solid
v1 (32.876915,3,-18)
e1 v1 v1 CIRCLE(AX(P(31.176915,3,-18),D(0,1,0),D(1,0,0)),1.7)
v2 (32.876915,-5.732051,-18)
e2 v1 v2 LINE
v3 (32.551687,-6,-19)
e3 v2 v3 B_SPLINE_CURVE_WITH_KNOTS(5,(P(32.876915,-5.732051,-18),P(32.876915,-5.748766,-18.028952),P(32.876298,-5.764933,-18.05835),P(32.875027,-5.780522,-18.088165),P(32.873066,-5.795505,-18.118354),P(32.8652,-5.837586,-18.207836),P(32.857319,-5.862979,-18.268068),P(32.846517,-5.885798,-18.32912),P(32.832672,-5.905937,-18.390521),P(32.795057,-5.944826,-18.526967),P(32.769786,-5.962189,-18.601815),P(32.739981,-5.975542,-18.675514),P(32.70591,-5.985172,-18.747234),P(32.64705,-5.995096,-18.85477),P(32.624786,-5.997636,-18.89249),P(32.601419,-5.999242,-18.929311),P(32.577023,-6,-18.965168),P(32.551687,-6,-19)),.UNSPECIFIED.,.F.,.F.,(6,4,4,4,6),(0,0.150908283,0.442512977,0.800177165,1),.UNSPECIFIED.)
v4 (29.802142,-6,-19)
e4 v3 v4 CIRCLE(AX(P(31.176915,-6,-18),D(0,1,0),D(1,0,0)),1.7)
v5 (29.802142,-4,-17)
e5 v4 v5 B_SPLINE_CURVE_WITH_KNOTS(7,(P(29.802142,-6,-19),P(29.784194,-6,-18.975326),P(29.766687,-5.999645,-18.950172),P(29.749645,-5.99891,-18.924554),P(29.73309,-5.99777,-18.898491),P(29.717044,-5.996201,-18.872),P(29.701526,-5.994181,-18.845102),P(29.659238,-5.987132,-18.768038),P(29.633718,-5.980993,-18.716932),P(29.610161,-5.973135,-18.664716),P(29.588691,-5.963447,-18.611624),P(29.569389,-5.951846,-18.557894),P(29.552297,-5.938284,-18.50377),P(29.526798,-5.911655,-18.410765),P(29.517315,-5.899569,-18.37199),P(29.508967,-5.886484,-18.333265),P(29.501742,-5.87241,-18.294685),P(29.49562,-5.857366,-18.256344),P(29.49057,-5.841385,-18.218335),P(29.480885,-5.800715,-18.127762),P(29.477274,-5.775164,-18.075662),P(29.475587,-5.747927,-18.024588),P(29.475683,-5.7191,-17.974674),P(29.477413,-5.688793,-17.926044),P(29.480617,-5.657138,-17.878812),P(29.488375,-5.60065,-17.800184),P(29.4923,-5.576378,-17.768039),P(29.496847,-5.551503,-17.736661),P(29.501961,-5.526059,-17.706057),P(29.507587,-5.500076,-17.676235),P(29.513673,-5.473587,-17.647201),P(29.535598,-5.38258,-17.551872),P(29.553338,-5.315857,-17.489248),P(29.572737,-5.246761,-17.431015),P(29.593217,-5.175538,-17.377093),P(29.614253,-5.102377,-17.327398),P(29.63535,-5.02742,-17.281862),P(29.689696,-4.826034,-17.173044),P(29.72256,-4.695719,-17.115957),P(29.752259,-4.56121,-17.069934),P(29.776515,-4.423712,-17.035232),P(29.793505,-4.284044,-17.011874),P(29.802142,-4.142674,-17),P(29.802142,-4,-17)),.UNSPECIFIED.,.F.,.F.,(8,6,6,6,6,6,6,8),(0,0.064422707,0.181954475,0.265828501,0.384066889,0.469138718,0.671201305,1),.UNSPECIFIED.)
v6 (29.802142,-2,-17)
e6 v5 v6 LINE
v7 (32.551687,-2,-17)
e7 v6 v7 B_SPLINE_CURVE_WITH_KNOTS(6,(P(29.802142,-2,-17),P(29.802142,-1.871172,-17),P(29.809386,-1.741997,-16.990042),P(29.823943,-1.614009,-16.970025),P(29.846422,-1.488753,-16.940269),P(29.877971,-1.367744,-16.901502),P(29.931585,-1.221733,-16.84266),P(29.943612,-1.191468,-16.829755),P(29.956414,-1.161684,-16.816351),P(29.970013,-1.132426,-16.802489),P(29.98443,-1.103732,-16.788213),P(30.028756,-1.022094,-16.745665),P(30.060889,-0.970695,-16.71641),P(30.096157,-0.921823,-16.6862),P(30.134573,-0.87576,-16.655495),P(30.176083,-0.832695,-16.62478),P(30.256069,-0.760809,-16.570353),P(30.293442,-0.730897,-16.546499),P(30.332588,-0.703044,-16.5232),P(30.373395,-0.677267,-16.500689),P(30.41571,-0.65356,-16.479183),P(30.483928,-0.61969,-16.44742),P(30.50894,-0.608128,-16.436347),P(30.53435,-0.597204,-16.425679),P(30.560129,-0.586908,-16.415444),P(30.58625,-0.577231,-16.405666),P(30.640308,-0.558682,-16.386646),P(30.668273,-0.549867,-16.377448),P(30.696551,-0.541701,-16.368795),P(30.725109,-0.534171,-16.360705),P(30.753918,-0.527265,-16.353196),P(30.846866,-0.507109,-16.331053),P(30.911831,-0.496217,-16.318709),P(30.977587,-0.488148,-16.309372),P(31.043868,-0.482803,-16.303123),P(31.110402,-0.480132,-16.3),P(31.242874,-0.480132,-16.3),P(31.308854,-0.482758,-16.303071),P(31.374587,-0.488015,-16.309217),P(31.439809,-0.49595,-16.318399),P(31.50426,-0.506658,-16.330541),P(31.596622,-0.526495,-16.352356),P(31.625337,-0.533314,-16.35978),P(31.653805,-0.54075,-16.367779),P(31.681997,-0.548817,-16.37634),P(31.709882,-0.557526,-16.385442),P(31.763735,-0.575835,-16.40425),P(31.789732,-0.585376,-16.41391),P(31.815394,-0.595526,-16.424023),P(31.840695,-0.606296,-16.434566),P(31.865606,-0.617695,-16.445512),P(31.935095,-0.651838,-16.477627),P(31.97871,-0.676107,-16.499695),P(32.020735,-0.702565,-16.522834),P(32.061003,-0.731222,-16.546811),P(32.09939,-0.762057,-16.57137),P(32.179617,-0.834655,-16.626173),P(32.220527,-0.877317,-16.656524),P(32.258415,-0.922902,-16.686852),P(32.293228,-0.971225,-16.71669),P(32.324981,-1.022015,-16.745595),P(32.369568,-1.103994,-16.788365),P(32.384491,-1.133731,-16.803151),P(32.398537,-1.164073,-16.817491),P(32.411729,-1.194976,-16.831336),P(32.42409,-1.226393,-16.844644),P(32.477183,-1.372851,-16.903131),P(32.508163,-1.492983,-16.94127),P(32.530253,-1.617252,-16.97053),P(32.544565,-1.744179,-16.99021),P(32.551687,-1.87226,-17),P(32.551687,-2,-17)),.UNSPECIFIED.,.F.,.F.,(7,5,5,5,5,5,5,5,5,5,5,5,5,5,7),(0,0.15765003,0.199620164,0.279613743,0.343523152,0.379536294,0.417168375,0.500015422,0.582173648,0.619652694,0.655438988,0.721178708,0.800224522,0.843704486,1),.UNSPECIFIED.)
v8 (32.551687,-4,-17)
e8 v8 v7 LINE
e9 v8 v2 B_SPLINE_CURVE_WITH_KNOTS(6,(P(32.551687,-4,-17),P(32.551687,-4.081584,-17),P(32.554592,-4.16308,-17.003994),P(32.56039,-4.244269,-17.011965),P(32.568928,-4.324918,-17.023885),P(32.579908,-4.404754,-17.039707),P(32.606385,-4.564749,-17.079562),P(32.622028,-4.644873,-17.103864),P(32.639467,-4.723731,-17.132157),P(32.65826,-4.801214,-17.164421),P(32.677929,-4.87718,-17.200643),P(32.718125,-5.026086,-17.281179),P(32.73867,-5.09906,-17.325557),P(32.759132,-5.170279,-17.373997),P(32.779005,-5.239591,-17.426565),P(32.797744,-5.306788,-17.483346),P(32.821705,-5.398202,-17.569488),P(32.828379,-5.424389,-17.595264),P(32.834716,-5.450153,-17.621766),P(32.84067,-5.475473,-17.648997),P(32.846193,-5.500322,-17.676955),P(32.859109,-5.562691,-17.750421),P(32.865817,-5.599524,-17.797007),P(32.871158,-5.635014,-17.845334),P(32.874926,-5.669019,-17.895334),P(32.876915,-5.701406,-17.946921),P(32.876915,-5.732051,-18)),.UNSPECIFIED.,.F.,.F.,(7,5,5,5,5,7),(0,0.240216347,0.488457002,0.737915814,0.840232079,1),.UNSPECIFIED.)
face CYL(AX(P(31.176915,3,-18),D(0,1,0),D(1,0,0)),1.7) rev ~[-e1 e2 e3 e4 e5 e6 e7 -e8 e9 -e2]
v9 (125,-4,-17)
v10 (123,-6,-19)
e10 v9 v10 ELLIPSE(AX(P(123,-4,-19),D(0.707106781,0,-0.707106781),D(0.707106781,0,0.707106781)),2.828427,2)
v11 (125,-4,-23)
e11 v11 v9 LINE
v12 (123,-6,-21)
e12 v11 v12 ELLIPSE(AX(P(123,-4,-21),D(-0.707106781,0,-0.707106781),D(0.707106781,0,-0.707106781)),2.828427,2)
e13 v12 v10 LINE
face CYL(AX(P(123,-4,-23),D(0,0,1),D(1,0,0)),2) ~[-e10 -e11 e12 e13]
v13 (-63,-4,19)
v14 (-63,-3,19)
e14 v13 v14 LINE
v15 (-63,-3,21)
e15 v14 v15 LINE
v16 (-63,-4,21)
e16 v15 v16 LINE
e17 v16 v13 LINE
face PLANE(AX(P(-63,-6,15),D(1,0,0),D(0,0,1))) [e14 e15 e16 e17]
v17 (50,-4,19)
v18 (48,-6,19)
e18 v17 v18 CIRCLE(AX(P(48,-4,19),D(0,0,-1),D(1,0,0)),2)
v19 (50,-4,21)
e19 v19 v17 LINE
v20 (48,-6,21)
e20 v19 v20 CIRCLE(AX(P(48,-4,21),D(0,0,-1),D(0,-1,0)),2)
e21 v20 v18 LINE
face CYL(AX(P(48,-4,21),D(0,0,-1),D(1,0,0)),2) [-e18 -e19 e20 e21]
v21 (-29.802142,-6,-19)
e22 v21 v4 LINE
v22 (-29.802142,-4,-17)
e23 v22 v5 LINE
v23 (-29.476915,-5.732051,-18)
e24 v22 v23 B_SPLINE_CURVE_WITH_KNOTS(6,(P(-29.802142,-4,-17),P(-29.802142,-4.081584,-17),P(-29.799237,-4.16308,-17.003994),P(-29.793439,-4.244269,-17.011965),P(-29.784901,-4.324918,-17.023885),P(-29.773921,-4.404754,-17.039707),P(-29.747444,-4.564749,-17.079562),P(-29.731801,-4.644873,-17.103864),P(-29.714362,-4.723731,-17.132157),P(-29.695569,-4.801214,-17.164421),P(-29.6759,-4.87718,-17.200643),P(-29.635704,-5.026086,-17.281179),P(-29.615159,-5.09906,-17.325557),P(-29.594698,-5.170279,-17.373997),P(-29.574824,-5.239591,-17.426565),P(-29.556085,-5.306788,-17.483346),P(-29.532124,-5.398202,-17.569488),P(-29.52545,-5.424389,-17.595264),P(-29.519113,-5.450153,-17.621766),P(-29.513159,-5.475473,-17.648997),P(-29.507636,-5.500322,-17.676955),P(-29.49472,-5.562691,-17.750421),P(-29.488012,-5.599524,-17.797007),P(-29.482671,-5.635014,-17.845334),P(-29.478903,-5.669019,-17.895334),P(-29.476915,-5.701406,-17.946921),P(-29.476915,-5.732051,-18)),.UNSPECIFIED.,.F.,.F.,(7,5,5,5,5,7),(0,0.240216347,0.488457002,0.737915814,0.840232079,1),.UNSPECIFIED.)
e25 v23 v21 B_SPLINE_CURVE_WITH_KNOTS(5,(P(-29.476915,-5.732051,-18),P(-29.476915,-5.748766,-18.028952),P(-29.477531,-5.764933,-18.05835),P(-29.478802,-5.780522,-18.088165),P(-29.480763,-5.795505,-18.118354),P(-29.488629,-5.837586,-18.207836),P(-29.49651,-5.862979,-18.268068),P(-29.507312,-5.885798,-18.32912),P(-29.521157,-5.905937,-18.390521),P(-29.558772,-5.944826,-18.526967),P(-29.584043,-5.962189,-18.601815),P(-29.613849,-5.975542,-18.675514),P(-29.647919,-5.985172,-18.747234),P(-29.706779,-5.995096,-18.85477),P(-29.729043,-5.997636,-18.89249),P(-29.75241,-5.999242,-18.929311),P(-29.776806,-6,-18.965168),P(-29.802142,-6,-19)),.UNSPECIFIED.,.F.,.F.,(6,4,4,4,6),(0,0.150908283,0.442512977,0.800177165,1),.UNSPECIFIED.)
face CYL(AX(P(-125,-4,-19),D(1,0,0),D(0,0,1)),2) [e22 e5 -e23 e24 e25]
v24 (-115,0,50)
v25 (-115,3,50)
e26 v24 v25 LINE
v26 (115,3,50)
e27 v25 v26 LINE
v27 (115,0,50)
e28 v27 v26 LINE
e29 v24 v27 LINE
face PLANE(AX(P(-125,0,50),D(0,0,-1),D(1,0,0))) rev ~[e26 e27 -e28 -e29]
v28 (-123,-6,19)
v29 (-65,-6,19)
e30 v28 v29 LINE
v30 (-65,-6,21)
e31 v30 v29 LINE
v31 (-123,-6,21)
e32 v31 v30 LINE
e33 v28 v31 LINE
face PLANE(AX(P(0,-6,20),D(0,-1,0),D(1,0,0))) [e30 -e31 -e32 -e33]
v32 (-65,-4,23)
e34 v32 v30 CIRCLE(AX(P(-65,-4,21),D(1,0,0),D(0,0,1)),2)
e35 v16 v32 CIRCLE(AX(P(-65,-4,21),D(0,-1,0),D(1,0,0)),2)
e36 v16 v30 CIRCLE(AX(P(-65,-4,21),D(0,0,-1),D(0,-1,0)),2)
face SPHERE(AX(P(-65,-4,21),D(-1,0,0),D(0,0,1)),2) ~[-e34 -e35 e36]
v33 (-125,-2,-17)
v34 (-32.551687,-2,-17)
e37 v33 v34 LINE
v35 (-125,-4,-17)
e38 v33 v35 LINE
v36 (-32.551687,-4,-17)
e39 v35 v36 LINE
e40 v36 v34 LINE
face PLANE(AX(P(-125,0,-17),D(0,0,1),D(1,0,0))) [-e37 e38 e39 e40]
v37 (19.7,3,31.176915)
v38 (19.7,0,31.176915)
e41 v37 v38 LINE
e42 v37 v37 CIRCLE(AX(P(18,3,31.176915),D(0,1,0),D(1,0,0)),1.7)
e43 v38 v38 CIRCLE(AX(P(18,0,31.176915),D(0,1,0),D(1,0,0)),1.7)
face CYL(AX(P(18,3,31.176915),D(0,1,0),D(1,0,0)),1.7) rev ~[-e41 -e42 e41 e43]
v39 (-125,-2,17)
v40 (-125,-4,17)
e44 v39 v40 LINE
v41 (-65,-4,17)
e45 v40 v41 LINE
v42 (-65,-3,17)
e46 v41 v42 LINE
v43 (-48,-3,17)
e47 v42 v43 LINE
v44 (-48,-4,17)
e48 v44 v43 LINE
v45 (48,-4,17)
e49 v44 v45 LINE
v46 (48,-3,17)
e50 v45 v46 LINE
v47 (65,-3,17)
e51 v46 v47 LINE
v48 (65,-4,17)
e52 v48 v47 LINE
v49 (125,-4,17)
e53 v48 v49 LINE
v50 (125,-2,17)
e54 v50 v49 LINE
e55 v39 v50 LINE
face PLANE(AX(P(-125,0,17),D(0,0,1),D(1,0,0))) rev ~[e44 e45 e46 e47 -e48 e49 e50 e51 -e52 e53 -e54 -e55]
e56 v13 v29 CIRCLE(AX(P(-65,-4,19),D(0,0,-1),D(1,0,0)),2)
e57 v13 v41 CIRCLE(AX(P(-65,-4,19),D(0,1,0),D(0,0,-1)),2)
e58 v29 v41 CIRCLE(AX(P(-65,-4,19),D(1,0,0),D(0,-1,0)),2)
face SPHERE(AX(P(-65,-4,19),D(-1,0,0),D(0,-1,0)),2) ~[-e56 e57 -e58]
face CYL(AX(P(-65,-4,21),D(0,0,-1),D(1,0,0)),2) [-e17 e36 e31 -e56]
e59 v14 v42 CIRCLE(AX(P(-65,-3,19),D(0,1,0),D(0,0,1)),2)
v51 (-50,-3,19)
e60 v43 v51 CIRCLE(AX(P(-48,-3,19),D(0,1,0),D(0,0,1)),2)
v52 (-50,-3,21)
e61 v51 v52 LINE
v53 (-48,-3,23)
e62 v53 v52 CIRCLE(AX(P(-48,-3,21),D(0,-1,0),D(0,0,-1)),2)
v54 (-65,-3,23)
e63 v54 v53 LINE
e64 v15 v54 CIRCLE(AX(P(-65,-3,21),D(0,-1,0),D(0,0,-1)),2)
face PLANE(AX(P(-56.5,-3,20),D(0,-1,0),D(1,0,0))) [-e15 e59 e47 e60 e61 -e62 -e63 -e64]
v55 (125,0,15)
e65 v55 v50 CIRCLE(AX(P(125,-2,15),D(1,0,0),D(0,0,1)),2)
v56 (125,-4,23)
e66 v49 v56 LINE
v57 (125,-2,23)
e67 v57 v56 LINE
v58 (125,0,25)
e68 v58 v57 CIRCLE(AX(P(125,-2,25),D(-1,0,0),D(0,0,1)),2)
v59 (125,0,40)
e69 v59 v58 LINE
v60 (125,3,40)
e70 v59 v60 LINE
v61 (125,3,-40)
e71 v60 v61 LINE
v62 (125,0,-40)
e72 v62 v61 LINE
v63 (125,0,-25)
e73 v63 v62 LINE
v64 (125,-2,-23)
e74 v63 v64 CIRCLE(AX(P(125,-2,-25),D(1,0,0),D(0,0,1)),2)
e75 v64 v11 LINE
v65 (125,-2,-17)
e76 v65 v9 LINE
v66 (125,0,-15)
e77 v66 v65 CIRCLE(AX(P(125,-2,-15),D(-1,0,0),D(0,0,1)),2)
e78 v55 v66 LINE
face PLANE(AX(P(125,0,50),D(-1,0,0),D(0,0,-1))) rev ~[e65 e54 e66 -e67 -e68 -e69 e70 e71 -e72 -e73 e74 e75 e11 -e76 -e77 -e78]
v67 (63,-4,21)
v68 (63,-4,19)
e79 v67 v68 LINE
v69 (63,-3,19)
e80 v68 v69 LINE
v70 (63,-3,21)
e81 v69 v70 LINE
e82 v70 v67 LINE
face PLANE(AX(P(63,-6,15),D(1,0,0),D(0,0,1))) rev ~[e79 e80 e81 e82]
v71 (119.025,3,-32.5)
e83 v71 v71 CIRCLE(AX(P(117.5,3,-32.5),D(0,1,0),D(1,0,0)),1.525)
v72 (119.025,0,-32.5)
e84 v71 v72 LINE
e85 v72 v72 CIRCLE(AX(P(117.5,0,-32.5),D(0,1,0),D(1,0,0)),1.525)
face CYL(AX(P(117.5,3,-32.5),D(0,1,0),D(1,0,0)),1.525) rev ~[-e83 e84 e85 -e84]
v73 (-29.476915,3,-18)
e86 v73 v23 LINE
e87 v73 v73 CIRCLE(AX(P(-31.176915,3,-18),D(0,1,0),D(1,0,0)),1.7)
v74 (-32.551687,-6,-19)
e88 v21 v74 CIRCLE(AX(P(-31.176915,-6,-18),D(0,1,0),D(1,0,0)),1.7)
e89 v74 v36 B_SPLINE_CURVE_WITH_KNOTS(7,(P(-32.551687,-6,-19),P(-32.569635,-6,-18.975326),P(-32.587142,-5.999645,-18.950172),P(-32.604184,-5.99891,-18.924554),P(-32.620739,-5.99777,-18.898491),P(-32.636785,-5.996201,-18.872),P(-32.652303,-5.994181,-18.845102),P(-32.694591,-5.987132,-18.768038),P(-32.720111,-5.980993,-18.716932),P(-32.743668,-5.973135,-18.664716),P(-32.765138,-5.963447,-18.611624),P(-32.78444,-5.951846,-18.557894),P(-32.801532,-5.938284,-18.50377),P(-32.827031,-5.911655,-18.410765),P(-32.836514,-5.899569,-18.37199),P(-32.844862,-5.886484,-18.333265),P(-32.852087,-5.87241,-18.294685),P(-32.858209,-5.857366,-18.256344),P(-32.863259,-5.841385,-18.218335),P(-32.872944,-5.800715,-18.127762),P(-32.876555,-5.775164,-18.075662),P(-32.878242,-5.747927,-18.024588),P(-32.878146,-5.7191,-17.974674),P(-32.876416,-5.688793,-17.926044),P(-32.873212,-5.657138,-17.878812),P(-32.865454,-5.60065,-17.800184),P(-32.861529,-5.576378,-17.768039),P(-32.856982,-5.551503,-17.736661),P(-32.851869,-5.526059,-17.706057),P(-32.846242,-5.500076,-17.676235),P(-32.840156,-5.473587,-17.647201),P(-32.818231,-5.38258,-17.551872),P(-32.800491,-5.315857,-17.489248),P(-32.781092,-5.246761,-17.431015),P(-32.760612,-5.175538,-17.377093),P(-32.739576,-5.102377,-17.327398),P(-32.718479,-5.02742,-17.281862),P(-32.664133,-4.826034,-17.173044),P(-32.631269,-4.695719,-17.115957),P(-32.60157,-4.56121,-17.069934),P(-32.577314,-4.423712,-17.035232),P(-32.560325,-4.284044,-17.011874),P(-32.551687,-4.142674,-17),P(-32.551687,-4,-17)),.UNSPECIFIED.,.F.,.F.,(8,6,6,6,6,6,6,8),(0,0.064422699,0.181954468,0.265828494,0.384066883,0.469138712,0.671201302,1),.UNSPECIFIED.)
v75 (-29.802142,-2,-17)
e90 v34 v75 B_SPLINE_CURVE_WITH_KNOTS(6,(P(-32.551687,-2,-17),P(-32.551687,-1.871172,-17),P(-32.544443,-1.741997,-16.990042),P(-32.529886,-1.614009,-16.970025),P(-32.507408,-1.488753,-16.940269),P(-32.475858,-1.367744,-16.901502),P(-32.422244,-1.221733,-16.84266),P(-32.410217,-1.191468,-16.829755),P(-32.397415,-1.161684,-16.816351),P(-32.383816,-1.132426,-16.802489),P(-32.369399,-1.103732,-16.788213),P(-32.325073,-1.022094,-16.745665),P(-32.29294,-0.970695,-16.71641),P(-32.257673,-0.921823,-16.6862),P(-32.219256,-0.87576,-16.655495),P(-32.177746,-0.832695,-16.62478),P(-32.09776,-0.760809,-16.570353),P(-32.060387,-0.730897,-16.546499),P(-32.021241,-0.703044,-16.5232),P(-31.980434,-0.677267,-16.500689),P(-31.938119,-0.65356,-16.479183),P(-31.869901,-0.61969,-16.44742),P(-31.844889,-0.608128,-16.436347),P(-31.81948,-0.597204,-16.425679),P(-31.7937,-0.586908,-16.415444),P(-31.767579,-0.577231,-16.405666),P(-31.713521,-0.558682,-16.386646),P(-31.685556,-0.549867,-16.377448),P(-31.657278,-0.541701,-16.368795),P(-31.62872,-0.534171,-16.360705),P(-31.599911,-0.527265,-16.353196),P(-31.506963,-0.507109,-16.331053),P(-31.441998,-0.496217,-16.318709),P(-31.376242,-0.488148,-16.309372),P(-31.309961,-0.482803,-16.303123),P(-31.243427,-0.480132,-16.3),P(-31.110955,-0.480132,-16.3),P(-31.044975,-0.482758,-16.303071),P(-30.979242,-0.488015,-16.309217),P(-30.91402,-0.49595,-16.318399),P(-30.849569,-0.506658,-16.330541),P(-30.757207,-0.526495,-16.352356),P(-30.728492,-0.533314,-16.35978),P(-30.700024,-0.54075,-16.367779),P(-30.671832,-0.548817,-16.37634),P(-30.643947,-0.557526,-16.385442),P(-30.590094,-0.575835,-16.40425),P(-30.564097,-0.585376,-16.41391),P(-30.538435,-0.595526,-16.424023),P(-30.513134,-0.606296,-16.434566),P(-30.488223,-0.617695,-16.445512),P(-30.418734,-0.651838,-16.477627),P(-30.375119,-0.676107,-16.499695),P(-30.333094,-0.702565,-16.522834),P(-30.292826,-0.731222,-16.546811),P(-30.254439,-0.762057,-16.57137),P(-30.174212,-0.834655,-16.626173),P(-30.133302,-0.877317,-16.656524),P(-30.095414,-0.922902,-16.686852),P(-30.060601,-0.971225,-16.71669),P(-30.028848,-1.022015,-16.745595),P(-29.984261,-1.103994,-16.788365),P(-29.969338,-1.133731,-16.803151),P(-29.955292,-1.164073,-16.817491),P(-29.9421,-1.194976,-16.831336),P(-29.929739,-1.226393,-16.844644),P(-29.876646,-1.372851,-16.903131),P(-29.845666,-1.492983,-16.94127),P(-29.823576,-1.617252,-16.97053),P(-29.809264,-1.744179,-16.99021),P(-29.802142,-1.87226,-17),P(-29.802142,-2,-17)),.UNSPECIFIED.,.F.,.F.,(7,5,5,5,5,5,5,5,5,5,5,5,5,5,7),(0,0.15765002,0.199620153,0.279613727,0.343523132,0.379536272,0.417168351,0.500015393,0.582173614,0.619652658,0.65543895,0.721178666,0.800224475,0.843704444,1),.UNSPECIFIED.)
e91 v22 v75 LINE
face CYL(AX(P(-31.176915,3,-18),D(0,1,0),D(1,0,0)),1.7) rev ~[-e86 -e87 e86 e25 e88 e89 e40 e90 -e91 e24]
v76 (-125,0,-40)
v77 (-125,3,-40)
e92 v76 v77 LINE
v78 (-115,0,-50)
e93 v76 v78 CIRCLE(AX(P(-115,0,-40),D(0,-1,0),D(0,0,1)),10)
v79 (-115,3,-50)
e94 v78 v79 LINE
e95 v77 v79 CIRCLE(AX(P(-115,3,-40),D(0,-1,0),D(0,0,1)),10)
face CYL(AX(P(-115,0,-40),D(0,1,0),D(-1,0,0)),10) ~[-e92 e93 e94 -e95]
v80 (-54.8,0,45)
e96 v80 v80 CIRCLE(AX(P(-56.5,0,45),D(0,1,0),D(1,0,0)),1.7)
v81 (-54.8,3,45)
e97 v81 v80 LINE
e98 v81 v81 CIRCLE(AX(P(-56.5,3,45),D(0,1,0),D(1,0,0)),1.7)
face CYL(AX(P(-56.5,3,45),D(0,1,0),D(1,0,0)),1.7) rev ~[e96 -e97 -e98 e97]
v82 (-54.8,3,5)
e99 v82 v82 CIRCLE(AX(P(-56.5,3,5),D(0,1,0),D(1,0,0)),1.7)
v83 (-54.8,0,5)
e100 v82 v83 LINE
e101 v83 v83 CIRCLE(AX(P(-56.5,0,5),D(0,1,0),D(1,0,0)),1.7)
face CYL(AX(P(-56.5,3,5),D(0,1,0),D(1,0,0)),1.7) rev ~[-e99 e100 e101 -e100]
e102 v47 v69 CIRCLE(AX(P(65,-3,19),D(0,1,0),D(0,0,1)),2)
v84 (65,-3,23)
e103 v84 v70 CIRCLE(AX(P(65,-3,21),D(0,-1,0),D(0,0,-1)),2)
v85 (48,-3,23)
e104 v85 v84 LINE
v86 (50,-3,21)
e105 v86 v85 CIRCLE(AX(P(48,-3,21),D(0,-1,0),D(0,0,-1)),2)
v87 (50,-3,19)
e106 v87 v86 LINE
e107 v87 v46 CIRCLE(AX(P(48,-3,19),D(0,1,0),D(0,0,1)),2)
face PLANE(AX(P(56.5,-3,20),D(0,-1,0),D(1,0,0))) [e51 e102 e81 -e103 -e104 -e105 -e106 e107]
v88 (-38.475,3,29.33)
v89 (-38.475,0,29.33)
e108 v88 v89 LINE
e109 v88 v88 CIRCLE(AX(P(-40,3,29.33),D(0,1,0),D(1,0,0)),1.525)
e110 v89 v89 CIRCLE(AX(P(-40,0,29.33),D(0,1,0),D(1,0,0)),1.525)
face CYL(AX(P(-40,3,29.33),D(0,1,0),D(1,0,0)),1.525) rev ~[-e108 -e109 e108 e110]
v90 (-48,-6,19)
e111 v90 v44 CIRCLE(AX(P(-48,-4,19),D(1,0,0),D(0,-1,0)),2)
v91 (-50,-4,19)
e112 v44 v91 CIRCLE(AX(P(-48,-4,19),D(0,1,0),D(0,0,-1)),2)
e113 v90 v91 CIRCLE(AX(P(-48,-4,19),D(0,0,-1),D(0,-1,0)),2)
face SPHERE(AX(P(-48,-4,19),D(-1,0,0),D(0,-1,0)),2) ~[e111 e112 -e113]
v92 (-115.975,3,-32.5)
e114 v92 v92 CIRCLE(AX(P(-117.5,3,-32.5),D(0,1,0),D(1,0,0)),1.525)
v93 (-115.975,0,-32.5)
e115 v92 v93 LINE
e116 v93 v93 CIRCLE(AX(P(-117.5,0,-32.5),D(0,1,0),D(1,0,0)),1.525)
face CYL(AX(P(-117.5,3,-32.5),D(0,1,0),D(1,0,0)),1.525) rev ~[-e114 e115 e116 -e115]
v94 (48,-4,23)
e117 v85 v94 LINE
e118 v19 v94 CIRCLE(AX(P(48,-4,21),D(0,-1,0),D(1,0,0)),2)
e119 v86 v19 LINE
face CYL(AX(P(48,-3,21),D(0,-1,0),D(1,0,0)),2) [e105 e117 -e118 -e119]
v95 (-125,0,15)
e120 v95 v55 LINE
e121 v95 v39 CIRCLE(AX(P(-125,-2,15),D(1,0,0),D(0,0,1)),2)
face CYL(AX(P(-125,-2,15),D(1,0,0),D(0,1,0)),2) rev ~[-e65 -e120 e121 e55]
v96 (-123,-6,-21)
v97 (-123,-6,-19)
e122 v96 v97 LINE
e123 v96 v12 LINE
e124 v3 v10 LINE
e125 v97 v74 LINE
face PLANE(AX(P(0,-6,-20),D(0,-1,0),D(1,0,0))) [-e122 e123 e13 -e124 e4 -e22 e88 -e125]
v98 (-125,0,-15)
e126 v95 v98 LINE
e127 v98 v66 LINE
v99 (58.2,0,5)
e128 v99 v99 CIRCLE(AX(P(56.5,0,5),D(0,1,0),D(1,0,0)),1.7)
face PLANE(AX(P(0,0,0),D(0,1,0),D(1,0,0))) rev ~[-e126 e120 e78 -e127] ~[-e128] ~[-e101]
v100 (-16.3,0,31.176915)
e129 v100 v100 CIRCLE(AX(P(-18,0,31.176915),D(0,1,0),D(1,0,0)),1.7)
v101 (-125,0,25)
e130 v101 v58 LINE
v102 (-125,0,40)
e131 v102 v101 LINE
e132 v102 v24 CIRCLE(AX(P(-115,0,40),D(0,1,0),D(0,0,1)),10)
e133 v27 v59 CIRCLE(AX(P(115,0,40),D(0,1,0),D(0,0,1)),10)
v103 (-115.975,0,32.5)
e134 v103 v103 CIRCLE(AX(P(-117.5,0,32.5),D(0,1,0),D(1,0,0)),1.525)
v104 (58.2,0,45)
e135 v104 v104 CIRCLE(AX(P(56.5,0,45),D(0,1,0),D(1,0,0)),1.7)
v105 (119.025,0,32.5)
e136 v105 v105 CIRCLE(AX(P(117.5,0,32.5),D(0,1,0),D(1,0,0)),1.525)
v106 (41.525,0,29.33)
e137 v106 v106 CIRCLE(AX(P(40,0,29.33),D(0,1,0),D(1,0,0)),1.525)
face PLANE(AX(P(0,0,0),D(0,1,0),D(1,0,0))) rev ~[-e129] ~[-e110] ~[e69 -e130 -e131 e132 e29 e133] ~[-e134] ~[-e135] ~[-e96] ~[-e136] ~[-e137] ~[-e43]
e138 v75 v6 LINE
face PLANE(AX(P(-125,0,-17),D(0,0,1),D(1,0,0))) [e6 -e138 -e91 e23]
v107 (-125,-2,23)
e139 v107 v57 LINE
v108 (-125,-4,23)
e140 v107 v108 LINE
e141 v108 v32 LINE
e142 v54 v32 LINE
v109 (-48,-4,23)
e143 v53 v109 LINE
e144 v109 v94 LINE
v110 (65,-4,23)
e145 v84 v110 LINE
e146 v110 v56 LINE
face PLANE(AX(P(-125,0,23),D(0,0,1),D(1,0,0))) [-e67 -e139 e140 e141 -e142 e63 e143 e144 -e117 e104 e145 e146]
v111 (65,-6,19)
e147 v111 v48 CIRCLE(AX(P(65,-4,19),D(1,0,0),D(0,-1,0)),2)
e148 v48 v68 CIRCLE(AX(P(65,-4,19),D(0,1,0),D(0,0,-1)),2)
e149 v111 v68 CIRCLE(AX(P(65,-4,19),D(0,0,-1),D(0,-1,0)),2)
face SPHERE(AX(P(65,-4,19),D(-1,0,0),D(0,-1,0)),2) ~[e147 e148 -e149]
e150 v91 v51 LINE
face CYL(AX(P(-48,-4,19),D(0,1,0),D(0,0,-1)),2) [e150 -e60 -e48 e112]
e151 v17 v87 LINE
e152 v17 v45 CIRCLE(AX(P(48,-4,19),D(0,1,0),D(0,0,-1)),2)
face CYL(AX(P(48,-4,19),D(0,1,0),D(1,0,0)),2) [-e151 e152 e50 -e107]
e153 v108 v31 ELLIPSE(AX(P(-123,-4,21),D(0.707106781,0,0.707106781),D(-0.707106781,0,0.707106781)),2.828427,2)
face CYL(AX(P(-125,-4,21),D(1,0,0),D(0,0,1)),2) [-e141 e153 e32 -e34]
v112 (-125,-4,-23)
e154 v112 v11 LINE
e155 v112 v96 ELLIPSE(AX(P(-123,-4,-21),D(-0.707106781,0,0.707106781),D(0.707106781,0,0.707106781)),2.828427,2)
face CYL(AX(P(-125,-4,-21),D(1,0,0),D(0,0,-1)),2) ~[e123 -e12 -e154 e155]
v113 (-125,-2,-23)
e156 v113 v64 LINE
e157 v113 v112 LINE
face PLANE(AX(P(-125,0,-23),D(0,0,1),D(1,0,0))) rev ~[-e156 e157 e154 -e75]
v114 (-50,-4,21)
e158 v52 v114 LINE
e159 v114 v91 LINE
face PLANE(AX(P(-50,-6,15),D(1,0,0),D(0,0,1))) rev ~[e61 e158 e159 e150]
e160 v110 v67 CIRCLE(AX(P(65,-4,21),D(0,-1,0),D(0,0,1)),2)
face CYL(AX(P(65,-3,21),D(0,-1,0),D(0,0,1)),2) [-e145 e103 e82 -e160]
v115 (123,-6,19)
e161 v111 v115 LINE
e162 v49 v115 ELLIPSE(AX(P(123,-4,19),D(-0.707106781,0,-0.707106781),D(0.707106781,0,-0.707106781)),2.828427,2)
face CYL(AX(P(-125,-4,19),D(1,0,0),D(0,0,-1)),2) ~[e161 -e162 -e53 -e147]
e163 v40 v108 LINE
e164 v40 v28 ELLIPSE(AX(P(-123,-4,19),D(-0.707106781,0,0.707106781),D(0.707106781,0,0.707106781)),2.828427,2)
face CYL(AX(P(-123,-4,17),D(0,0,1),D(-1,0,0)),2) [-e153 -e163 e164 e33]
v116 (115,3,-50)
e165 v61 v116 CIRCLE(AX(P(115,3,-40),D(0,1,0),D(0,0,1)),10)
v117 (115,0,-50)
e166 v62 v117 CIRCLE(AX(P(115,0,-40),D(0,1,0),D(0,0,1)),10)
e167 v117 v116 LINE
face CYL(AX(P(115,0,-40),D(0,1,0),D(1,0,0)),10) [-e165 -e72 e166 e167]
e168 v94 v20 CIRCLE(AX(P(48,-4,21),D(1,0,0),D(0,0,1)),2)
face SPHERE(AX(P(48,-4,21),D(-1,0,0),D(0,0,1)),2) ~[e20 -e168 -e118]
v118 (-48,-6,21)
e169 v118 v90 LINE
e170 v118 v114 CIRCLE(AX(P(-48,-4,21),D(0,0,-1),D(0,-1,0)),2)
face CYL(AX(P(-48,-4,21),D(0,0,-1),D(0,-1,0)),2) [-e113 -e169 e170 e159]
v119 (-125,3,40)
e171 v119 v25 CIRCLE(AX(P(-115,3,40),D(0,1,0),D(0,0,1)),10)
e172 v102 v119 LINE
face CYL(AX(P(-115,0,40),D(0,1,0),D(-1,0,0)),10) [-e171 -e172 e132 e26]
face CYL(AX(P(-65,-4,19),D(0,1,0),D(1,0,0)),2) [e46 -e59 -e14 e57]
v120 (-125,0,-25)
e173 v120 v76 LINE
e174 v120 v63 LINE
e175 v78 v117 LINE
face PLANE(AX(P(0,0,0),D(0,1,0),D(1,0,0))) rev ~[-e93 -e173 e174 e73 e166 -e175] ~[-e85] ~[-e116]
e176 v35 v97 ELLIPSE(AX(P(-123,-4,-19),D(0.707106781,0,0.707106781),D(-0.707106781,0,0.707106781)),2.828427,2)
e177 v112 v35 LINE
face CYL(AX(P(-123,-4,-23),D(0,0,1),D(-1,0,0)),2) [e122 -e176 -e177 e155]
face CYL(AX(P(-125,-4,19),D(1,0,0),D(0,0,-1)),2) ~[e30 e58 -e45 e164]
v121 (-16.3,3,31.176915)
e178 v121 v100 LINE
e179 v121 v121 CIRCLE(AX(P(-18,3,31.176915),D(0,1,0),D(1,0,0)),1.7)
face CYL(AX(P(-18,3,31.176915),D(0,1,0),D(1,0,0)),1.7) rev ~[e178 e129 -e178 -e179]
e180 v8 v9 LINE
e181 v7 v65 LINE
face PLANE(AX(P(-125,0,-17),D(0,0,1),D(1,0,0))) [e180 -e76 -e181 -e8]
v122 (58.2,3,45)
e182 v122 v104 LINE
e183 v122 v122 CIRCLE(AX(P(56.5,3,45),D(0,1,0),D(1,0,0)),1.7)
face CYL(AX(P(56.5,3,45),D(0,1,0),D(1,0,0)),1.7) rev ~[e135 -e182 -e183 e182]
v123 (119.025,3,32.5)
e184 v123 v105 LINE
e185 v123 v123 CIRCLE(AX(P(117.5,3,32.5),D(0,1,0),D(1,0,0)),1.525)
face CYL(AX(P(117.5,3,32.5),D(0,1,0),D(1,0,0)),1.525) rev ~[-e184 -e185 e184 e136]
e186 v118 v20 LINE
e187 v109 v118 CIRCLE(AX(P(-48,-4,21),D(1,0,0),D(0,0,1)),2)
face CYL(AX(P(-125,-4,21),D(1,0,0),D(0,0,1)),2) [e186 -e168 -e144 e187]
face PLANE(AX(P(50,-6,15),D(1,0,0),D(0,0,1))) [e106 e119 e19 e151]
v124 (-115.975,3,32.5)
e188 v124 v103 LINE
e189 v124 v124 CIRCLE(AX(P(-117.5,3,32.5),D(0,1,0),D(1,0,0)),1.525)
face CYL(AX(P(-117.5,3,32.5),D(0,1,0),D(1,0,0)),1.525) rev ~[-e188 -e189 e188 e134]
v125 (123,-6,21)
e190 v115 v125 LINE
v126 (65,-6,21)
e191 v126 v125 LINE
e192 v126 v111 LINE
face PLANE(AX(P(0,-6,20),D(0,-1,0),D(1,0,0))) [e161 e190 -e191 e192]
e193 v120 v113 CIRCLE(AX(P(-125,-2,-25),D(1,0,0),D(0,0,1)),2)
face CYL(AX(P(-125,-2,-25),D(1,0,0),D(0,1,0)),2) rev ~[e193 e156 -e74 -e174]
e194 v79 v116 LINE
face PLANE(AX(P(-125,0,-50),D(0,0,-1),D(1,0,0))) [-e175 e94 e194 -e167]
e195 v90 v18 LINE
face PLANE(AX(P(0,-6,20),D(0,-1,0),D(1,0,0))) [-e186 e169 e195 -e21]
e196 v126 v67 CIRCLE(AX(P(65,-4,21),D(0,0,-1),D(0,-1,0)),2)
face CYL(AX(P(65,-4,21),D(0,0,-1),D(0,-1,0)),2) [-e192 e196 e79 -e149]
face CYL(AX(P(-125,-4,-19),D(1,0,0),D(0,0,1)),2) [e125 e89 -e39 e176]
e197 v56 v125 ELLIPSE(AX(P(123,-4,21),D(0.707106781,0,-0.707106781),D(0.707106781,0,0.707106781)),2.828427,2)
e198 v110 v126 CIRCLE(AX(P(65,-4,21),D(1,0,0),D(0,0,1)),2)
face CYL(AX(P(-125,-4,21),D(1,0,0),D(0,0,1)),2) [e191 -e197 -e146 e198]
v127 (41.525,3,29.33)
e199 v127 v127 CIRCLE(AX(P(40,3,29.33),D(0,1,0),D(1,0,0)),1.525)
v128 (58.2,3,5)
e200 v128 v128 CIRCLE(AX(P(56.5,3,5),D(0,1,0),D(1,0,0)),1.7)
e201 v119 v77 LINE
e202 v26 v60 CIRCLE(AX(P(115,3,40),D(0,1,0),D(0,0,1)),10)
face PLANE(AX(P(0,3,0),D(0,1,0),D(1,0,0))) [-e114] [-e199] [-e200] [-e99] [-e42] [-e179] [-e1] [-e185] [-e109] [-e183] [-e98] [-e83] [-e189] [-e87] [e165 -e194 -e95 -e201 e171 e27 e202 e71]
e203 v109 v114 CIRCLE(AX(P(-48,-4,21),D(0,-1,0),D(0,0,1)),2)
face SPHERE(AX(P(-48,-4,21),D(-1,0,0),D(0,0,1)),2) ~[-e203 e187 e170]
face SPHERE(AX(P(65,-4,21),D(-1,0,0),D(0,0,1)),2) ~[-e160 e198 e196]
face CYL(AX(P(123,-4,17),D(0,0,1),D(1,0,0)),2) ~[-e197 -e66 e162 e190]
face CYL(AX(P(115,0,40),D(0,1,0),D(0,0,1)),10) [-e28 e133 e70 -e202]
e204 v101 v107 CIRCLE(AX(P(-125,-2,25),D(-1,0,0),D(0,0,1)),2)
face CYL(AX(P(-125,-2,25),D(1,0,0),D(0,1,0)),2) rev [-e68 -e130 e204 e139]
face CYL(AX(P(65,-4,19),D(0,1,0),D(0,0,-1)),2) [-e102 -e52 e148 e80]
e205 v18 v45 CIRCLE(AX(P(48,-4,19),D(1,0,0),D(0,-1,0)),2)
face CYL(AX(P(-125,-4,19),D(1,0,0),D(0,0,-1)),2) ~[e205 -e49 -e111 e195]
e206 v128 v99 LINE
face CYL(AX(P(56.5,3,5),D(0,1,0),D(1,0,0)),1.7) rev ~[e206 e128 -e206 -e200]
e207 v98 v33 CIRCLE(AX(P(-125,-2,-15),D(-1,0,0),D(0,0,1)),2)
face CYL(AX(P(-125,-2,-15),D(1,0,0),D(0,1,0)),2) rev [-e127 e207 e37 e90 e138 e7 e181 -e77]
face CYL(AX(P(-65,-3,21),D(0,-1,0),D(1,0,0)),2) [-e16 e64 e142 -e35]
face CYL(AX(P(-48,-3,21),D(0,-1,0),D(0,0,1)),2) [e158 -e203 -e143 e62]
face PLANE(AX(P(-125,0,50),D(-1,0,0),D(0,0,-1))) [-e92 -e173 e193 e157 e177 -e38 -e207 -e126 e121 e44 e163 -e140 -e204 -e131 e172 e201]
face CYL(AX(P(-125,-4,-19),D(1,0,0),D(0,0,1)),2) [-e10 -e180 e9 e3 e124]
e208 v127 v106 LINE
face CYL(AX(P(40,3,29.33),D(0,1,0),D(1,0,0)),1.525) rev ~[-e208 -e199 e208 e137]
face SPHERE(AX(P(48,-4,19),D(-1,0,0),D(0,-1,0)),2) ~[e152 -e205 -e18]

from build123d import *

# Parameters (mm, degrees)
SKETCH_1_W          = 250
SKETCH_1_H          = 100
EXTRUDE_1_DEPTH     = 3
FILLET_1_R          = 10
SKETCH_2_R          = 1.525
CUT_EXTRUDE_1_DEPTH = 3
SKETCH_3_R          = 1.525
CUT_EXTRUDE_2_DEPTH = 3
SKETCH_4_W          = 250
SKETCH_4_H          = 6
EXTRUDE_2_DEPTH     = 6
FILLET_2_R          = 2
CUT_EXTRUDE_3_REACH = 11
SKETCH_5_R          = 1.7
CUT_EXTRUDE_4_REACH = 11
SKETCH_6_R          = 1.7
SKETCH_7_W          = 13
SKETCH_7_H          = 10
CUT_EXTRUDE_5_DEPTH = 3
FILLET_3_R          = 2


with BuildPart() as part:
    # 草图1 → 凸台-拉伸1 (new body)
    with BuildSketch(Plane(origin=(0, 0, 0), x_dir=(1, 0, 0), z_dir=(0, 1, 0))):
        Rectangle(SKETCH_1_W, SKETCH_1_H)
    extrude(amount=EXTRUDE_1_DEPTH)

    # 圆角1
    fillet_1_edges = [part.edges().sort_by_distance(p)[0] for p in [
        (125, 1.5, 50),
        (-125, 1.5, 50),
        (-125, 1.5, -50),
        (125, 1.5, -50),
    ]]
    fillet(fillet_1_edges, radius=FILLET_1_R)

    # 草图2 → 切除-拉伸1 (cut)
    with BuildSketch(Plane(origin=(0, 3, 0), x_dir=(1, 0, 0), z_dir=(0, 1, 0))):
        with Locations((-117.5, 32.5)):
            Circle(SKETCH_2_R)
        with Locations((117.5, 32.5)):
            Circle(SKETCH_2_R)
        with Locations((117.5, -32.5)):
            Circle(SKETCH_2_R)
        with Locations((-117.5, -32.5)):
            Circle(SKETCH_2_R)
    extrude(amount=-CUT_EXTRUDE_1_DEPTH, mode=Mode.SUBTRACT)

    # 草图3 → 切除-拉伸2 (cut)
    with BuildSketch(Plane(origin=(0, 3, 0), x_dir=(1, 0, 0), z_dir=(0, 1, 0))):
        with Locations((-40, -29.33)):
            Circle(SKETCH_3_R)
        with Locations((40, -29.33)):
            Circle(SKETCH_3_R)
    extrude(amount=-CUT_EXTRUDE_2_DEPTH, mode=Mode.SUBTRACT)

    # 草图4 → 凸台-拉伸2 (add)
    with BuildSketch(Plane.XZ):
        with Locations((0, 20)):
            Rectangle(SKETCH_4_W, SKETCH_4_H)
        with Locations((0, -20)):
            Rectangle(SKETCH_4_W, SKETCH_4_H)
    extrude(amount=EXTRUDE_2_DEPTH)

    # 圆角2
    fillet_2_edges = [part.edges().sort_by_distance(p)[0] for p in [
        (0, 0, 17),
        (0, 0, 23),
        (-125, -6, 20),
        (0, -6, 17),
        (125, -6, 20),
        (0, -6, 23),
        (0, 0, -23),
        (0, 0, -17),
        (-125, -6, -20),
        (0, -6, -23),
        (125, -6, -20),
        (0, -6, -17),
    ]]
    fillet(fillet_2_edges, radius=FILLET_2_R)

    # 草图5 → 切除-拉伸3 (cut, up to next)
    with BuildSketch(Plane(origin=(0, 3, 0), x_dir=(1, 0, 0), z_dir=(0, 1, 0)), mode=Mode.PRIVATE) as cut_extrude_3_sk1:
        with Locations((-31.176914536, 18)):
            Circle(SKETCH_5_R)
    cut_extrude_3_tool1 = extrude(cut_extrude_3_sk1.sketch, amount=-CUT_EXTRUDE_3_REACH, mode=Mode.PRIVATE) & part.part
    add(cut_extrude_3_tool1.solids().sort_by_distance((-31.176915, 3, -18))[0], mode=Mode.SUBTRACT)
    # 草图5 → 切除-拉伸3 (cut, up to next)
    with BuildSketch(Plane(origin=(0, 3, 0), x_dir=(1, 0, 0), z_dir=(0, 1, 0)), mode=Mode.PRIVATE) as cut_extrude_3_sk2:
        with Locations((31.176914536, 18)):
            Circle(SKETCH_5_R)
    cut_extrude_3_tool2 = extrude(cut_extrude_3_sk2.sketch, amount=-CUT_EXTRUDE_3_REACH, mode=Mode.PRIVATE) & part.part
    add(cut_extrude_3_tool2.solids().sort_by_distance((31.176915, 3, -18))[0], mode=Mode.SUBTRACT)
    # 草图5 → 切除-拉伸3 (cut, up to next)
    with BuildSketch(Plane(origin=(0, 3, 0), x_dir=(1, 0, 0), z_dir=(0, 1, 0)), mode=Mode.PRIVATE) as cut_extrude_3_sk3:
        with Locations((-18, -31.176914536)):
            Circle(SKETCH_5_R)
    cut_extrude_3_tool3 = extrude(cut_extrude_3_sk3.sketch, amount=-CUT_EXTRUDE_3_REACH, mode=Mode.PRIVATE) & part.part
    add(cut_extrude_3_tool3.solids().sort_by_distance((-18, 3, 31.176915))[0], mode=Mode.SUBTRACT)
    # 草图5 → 切除-拉伸3 (cut, up to next)
    with BuildSketch(Plane(origin=(0, 3, 0), x_dir=(1, 0, 0), z_dir=(0, 1, 0)), mode=Mode.PRIVATE) as cut_extrude_3_sk4:
        with Locations((18, -31.176914536)):
            Circle(SKETCH_5_R)
    cut_extrude_3_tool4 = extrude(cut_extrude_3_sk4.sketch, amount=-CUT_EXTRUDE_3_REACH, mode=Mode.PRIVATE) & part.part
    add(cut_extrude_3_tool4.solids().sort_by_distance((18, 3, 31.176915))[0], mode=Mode.SUBTRACT)

    # 草图6 → 切除-拉伸4 (cut, up to next)
    with BuildSketch(Plane(origin=(0, 3, 0), x_dir=(1, 0, 0), z_dir=(0, 1, 0)), mode=Mode.PRIVATE) as cut_extrude_4_sk1:
        with Locations((-56.5, -5)):
            Circle(SKETCH_6_R)
    cut_extrude_4_tool1 = extrude(cut_extrude_4_sk1.sketch, amount=-CUT_EXTRUDE_4_REACH, mode=Mode.PRIVATE) & part.part
    add(cut_extrude_4_tool1.solids().sort_by_distance((-56.5, 3, 5))[0], mode=Mode.SUBTRACT)
    # 草图6 → 切除-拉伸4 (cut, up to next)
    with BuildSketch(Plane(origin=(0, 3, 0), x_dir=(1, 0, 0), z_dir=(0, 1, 0)), mode=Mode.PRIVATE) as cut_extrude_4_sk2:
        with Locations((56.5, -5)):
            Circle(SKETCH_6_R)
    cut_extrude_4_tool2 = extrude(cut_extrude_4_sk2.sketch, amount=-CUT_EXTRUDE_4_REACH, mode=Mode.PRIVATE) & part.part
    add(cut_extrude_4_tool2.solids().sort_by_distance((56.5, 3, 5))[0], mode=Mode.SUBTRACT)
    # 草图6 → 切除-拉伸4 (cut, up to next)
    with BuildSketch(Plane(origin=(0, 3, 0), x_dir=(1, 0, 0), z_dir=(0, 1, 0)), mode=Mode.PRIVATE) as cut_extrude_4_sk3:
        with Locations((-56.5, -45)):
            Circle(SKETCH_6_R)
    cut_extrude_4_tool3 = extrude(cut_extrude_4_sk3.sketch, amount=-CUT_EXTRUDE_4_REACH, mode=Mode.PRIVATE) & part.part
    add(cut_extrude_4_tool3.solids().sort_by_distance((-56.5, 3, 45))[0], mode=Mode.SUBTRACT)
    # 草图6 → 切除-拉伸4 (cut, up to next)
    with BuildSketch(Plane(origin=(0, 3, 0), x_dir=(1, 0, 0), z_dir=(0, 1, 0)), mode=Mode.PRIVATE) as cut_extrude_4_sk4:
        with Locations((56.5, -45)):
            Circle(SKETCH_6_R)
    cut_extrude_4_tool4 = extrude(cut_extrude_4_sk4.sketch, amount=-CUT_EXTRUDE_4_REACH, mode=Mode.PRIVATE) & part.part
    add(cut_extrude_4_tool4.solids().sort_by_distance((56.5, 3, 45))[0], mode=Mode.SUBTRACT)

    # 草图7 → 切除-拉伸5 (cut)
    with BuildSketch(Plane.XZ.offset(6)):
        with Locations((-56.5, 20)):
            Rectangle(SKETCH_7_W, SKETCH_7_H)
        with Locations((56.5, 20)):
            Rectangle(SKETCH_7_W, SKETCH_7_H)
    extrude(amount=-CUT_EXTRUDE_5_DEPTH, mode=Mode.SUBTRACT)

    # 圆角3
    fillet_3_edges = [part.edges().sort_by_distance(p)[0] for p in [
        (-63, -5.414213562, 22.414213562),
        (-50, -5.414213562, 22.414213562),
        (50, -5.414213562, 22.414213562),
        (63, -5.414213562, 22.414213562),
        (63, -3.5, 17),
        (63, -3.5, 23),
        (63, -5.414213562, 17.585786438),
        (50, -3.5, 17),
        (50, -3.5, 23),
        (50, -5.414213562, 17.585786438),
        (63, -6, 20),
        (50, -6, 20),
        (-50, -3.5, 17),
        (-50, -3.5, 23),
        (-50, -5.414213562, 17.585786438),
        (-63, -3.5, 17),
        (-63, -3.5, 23),
        (-63, -5.414213562, 17.585786438),
        (-50, -6, 20),
        (-63, -6, 20),
    ]]
    fillet(fillet_3_edges, radius=FILLET_3_R)


solid = part.part
